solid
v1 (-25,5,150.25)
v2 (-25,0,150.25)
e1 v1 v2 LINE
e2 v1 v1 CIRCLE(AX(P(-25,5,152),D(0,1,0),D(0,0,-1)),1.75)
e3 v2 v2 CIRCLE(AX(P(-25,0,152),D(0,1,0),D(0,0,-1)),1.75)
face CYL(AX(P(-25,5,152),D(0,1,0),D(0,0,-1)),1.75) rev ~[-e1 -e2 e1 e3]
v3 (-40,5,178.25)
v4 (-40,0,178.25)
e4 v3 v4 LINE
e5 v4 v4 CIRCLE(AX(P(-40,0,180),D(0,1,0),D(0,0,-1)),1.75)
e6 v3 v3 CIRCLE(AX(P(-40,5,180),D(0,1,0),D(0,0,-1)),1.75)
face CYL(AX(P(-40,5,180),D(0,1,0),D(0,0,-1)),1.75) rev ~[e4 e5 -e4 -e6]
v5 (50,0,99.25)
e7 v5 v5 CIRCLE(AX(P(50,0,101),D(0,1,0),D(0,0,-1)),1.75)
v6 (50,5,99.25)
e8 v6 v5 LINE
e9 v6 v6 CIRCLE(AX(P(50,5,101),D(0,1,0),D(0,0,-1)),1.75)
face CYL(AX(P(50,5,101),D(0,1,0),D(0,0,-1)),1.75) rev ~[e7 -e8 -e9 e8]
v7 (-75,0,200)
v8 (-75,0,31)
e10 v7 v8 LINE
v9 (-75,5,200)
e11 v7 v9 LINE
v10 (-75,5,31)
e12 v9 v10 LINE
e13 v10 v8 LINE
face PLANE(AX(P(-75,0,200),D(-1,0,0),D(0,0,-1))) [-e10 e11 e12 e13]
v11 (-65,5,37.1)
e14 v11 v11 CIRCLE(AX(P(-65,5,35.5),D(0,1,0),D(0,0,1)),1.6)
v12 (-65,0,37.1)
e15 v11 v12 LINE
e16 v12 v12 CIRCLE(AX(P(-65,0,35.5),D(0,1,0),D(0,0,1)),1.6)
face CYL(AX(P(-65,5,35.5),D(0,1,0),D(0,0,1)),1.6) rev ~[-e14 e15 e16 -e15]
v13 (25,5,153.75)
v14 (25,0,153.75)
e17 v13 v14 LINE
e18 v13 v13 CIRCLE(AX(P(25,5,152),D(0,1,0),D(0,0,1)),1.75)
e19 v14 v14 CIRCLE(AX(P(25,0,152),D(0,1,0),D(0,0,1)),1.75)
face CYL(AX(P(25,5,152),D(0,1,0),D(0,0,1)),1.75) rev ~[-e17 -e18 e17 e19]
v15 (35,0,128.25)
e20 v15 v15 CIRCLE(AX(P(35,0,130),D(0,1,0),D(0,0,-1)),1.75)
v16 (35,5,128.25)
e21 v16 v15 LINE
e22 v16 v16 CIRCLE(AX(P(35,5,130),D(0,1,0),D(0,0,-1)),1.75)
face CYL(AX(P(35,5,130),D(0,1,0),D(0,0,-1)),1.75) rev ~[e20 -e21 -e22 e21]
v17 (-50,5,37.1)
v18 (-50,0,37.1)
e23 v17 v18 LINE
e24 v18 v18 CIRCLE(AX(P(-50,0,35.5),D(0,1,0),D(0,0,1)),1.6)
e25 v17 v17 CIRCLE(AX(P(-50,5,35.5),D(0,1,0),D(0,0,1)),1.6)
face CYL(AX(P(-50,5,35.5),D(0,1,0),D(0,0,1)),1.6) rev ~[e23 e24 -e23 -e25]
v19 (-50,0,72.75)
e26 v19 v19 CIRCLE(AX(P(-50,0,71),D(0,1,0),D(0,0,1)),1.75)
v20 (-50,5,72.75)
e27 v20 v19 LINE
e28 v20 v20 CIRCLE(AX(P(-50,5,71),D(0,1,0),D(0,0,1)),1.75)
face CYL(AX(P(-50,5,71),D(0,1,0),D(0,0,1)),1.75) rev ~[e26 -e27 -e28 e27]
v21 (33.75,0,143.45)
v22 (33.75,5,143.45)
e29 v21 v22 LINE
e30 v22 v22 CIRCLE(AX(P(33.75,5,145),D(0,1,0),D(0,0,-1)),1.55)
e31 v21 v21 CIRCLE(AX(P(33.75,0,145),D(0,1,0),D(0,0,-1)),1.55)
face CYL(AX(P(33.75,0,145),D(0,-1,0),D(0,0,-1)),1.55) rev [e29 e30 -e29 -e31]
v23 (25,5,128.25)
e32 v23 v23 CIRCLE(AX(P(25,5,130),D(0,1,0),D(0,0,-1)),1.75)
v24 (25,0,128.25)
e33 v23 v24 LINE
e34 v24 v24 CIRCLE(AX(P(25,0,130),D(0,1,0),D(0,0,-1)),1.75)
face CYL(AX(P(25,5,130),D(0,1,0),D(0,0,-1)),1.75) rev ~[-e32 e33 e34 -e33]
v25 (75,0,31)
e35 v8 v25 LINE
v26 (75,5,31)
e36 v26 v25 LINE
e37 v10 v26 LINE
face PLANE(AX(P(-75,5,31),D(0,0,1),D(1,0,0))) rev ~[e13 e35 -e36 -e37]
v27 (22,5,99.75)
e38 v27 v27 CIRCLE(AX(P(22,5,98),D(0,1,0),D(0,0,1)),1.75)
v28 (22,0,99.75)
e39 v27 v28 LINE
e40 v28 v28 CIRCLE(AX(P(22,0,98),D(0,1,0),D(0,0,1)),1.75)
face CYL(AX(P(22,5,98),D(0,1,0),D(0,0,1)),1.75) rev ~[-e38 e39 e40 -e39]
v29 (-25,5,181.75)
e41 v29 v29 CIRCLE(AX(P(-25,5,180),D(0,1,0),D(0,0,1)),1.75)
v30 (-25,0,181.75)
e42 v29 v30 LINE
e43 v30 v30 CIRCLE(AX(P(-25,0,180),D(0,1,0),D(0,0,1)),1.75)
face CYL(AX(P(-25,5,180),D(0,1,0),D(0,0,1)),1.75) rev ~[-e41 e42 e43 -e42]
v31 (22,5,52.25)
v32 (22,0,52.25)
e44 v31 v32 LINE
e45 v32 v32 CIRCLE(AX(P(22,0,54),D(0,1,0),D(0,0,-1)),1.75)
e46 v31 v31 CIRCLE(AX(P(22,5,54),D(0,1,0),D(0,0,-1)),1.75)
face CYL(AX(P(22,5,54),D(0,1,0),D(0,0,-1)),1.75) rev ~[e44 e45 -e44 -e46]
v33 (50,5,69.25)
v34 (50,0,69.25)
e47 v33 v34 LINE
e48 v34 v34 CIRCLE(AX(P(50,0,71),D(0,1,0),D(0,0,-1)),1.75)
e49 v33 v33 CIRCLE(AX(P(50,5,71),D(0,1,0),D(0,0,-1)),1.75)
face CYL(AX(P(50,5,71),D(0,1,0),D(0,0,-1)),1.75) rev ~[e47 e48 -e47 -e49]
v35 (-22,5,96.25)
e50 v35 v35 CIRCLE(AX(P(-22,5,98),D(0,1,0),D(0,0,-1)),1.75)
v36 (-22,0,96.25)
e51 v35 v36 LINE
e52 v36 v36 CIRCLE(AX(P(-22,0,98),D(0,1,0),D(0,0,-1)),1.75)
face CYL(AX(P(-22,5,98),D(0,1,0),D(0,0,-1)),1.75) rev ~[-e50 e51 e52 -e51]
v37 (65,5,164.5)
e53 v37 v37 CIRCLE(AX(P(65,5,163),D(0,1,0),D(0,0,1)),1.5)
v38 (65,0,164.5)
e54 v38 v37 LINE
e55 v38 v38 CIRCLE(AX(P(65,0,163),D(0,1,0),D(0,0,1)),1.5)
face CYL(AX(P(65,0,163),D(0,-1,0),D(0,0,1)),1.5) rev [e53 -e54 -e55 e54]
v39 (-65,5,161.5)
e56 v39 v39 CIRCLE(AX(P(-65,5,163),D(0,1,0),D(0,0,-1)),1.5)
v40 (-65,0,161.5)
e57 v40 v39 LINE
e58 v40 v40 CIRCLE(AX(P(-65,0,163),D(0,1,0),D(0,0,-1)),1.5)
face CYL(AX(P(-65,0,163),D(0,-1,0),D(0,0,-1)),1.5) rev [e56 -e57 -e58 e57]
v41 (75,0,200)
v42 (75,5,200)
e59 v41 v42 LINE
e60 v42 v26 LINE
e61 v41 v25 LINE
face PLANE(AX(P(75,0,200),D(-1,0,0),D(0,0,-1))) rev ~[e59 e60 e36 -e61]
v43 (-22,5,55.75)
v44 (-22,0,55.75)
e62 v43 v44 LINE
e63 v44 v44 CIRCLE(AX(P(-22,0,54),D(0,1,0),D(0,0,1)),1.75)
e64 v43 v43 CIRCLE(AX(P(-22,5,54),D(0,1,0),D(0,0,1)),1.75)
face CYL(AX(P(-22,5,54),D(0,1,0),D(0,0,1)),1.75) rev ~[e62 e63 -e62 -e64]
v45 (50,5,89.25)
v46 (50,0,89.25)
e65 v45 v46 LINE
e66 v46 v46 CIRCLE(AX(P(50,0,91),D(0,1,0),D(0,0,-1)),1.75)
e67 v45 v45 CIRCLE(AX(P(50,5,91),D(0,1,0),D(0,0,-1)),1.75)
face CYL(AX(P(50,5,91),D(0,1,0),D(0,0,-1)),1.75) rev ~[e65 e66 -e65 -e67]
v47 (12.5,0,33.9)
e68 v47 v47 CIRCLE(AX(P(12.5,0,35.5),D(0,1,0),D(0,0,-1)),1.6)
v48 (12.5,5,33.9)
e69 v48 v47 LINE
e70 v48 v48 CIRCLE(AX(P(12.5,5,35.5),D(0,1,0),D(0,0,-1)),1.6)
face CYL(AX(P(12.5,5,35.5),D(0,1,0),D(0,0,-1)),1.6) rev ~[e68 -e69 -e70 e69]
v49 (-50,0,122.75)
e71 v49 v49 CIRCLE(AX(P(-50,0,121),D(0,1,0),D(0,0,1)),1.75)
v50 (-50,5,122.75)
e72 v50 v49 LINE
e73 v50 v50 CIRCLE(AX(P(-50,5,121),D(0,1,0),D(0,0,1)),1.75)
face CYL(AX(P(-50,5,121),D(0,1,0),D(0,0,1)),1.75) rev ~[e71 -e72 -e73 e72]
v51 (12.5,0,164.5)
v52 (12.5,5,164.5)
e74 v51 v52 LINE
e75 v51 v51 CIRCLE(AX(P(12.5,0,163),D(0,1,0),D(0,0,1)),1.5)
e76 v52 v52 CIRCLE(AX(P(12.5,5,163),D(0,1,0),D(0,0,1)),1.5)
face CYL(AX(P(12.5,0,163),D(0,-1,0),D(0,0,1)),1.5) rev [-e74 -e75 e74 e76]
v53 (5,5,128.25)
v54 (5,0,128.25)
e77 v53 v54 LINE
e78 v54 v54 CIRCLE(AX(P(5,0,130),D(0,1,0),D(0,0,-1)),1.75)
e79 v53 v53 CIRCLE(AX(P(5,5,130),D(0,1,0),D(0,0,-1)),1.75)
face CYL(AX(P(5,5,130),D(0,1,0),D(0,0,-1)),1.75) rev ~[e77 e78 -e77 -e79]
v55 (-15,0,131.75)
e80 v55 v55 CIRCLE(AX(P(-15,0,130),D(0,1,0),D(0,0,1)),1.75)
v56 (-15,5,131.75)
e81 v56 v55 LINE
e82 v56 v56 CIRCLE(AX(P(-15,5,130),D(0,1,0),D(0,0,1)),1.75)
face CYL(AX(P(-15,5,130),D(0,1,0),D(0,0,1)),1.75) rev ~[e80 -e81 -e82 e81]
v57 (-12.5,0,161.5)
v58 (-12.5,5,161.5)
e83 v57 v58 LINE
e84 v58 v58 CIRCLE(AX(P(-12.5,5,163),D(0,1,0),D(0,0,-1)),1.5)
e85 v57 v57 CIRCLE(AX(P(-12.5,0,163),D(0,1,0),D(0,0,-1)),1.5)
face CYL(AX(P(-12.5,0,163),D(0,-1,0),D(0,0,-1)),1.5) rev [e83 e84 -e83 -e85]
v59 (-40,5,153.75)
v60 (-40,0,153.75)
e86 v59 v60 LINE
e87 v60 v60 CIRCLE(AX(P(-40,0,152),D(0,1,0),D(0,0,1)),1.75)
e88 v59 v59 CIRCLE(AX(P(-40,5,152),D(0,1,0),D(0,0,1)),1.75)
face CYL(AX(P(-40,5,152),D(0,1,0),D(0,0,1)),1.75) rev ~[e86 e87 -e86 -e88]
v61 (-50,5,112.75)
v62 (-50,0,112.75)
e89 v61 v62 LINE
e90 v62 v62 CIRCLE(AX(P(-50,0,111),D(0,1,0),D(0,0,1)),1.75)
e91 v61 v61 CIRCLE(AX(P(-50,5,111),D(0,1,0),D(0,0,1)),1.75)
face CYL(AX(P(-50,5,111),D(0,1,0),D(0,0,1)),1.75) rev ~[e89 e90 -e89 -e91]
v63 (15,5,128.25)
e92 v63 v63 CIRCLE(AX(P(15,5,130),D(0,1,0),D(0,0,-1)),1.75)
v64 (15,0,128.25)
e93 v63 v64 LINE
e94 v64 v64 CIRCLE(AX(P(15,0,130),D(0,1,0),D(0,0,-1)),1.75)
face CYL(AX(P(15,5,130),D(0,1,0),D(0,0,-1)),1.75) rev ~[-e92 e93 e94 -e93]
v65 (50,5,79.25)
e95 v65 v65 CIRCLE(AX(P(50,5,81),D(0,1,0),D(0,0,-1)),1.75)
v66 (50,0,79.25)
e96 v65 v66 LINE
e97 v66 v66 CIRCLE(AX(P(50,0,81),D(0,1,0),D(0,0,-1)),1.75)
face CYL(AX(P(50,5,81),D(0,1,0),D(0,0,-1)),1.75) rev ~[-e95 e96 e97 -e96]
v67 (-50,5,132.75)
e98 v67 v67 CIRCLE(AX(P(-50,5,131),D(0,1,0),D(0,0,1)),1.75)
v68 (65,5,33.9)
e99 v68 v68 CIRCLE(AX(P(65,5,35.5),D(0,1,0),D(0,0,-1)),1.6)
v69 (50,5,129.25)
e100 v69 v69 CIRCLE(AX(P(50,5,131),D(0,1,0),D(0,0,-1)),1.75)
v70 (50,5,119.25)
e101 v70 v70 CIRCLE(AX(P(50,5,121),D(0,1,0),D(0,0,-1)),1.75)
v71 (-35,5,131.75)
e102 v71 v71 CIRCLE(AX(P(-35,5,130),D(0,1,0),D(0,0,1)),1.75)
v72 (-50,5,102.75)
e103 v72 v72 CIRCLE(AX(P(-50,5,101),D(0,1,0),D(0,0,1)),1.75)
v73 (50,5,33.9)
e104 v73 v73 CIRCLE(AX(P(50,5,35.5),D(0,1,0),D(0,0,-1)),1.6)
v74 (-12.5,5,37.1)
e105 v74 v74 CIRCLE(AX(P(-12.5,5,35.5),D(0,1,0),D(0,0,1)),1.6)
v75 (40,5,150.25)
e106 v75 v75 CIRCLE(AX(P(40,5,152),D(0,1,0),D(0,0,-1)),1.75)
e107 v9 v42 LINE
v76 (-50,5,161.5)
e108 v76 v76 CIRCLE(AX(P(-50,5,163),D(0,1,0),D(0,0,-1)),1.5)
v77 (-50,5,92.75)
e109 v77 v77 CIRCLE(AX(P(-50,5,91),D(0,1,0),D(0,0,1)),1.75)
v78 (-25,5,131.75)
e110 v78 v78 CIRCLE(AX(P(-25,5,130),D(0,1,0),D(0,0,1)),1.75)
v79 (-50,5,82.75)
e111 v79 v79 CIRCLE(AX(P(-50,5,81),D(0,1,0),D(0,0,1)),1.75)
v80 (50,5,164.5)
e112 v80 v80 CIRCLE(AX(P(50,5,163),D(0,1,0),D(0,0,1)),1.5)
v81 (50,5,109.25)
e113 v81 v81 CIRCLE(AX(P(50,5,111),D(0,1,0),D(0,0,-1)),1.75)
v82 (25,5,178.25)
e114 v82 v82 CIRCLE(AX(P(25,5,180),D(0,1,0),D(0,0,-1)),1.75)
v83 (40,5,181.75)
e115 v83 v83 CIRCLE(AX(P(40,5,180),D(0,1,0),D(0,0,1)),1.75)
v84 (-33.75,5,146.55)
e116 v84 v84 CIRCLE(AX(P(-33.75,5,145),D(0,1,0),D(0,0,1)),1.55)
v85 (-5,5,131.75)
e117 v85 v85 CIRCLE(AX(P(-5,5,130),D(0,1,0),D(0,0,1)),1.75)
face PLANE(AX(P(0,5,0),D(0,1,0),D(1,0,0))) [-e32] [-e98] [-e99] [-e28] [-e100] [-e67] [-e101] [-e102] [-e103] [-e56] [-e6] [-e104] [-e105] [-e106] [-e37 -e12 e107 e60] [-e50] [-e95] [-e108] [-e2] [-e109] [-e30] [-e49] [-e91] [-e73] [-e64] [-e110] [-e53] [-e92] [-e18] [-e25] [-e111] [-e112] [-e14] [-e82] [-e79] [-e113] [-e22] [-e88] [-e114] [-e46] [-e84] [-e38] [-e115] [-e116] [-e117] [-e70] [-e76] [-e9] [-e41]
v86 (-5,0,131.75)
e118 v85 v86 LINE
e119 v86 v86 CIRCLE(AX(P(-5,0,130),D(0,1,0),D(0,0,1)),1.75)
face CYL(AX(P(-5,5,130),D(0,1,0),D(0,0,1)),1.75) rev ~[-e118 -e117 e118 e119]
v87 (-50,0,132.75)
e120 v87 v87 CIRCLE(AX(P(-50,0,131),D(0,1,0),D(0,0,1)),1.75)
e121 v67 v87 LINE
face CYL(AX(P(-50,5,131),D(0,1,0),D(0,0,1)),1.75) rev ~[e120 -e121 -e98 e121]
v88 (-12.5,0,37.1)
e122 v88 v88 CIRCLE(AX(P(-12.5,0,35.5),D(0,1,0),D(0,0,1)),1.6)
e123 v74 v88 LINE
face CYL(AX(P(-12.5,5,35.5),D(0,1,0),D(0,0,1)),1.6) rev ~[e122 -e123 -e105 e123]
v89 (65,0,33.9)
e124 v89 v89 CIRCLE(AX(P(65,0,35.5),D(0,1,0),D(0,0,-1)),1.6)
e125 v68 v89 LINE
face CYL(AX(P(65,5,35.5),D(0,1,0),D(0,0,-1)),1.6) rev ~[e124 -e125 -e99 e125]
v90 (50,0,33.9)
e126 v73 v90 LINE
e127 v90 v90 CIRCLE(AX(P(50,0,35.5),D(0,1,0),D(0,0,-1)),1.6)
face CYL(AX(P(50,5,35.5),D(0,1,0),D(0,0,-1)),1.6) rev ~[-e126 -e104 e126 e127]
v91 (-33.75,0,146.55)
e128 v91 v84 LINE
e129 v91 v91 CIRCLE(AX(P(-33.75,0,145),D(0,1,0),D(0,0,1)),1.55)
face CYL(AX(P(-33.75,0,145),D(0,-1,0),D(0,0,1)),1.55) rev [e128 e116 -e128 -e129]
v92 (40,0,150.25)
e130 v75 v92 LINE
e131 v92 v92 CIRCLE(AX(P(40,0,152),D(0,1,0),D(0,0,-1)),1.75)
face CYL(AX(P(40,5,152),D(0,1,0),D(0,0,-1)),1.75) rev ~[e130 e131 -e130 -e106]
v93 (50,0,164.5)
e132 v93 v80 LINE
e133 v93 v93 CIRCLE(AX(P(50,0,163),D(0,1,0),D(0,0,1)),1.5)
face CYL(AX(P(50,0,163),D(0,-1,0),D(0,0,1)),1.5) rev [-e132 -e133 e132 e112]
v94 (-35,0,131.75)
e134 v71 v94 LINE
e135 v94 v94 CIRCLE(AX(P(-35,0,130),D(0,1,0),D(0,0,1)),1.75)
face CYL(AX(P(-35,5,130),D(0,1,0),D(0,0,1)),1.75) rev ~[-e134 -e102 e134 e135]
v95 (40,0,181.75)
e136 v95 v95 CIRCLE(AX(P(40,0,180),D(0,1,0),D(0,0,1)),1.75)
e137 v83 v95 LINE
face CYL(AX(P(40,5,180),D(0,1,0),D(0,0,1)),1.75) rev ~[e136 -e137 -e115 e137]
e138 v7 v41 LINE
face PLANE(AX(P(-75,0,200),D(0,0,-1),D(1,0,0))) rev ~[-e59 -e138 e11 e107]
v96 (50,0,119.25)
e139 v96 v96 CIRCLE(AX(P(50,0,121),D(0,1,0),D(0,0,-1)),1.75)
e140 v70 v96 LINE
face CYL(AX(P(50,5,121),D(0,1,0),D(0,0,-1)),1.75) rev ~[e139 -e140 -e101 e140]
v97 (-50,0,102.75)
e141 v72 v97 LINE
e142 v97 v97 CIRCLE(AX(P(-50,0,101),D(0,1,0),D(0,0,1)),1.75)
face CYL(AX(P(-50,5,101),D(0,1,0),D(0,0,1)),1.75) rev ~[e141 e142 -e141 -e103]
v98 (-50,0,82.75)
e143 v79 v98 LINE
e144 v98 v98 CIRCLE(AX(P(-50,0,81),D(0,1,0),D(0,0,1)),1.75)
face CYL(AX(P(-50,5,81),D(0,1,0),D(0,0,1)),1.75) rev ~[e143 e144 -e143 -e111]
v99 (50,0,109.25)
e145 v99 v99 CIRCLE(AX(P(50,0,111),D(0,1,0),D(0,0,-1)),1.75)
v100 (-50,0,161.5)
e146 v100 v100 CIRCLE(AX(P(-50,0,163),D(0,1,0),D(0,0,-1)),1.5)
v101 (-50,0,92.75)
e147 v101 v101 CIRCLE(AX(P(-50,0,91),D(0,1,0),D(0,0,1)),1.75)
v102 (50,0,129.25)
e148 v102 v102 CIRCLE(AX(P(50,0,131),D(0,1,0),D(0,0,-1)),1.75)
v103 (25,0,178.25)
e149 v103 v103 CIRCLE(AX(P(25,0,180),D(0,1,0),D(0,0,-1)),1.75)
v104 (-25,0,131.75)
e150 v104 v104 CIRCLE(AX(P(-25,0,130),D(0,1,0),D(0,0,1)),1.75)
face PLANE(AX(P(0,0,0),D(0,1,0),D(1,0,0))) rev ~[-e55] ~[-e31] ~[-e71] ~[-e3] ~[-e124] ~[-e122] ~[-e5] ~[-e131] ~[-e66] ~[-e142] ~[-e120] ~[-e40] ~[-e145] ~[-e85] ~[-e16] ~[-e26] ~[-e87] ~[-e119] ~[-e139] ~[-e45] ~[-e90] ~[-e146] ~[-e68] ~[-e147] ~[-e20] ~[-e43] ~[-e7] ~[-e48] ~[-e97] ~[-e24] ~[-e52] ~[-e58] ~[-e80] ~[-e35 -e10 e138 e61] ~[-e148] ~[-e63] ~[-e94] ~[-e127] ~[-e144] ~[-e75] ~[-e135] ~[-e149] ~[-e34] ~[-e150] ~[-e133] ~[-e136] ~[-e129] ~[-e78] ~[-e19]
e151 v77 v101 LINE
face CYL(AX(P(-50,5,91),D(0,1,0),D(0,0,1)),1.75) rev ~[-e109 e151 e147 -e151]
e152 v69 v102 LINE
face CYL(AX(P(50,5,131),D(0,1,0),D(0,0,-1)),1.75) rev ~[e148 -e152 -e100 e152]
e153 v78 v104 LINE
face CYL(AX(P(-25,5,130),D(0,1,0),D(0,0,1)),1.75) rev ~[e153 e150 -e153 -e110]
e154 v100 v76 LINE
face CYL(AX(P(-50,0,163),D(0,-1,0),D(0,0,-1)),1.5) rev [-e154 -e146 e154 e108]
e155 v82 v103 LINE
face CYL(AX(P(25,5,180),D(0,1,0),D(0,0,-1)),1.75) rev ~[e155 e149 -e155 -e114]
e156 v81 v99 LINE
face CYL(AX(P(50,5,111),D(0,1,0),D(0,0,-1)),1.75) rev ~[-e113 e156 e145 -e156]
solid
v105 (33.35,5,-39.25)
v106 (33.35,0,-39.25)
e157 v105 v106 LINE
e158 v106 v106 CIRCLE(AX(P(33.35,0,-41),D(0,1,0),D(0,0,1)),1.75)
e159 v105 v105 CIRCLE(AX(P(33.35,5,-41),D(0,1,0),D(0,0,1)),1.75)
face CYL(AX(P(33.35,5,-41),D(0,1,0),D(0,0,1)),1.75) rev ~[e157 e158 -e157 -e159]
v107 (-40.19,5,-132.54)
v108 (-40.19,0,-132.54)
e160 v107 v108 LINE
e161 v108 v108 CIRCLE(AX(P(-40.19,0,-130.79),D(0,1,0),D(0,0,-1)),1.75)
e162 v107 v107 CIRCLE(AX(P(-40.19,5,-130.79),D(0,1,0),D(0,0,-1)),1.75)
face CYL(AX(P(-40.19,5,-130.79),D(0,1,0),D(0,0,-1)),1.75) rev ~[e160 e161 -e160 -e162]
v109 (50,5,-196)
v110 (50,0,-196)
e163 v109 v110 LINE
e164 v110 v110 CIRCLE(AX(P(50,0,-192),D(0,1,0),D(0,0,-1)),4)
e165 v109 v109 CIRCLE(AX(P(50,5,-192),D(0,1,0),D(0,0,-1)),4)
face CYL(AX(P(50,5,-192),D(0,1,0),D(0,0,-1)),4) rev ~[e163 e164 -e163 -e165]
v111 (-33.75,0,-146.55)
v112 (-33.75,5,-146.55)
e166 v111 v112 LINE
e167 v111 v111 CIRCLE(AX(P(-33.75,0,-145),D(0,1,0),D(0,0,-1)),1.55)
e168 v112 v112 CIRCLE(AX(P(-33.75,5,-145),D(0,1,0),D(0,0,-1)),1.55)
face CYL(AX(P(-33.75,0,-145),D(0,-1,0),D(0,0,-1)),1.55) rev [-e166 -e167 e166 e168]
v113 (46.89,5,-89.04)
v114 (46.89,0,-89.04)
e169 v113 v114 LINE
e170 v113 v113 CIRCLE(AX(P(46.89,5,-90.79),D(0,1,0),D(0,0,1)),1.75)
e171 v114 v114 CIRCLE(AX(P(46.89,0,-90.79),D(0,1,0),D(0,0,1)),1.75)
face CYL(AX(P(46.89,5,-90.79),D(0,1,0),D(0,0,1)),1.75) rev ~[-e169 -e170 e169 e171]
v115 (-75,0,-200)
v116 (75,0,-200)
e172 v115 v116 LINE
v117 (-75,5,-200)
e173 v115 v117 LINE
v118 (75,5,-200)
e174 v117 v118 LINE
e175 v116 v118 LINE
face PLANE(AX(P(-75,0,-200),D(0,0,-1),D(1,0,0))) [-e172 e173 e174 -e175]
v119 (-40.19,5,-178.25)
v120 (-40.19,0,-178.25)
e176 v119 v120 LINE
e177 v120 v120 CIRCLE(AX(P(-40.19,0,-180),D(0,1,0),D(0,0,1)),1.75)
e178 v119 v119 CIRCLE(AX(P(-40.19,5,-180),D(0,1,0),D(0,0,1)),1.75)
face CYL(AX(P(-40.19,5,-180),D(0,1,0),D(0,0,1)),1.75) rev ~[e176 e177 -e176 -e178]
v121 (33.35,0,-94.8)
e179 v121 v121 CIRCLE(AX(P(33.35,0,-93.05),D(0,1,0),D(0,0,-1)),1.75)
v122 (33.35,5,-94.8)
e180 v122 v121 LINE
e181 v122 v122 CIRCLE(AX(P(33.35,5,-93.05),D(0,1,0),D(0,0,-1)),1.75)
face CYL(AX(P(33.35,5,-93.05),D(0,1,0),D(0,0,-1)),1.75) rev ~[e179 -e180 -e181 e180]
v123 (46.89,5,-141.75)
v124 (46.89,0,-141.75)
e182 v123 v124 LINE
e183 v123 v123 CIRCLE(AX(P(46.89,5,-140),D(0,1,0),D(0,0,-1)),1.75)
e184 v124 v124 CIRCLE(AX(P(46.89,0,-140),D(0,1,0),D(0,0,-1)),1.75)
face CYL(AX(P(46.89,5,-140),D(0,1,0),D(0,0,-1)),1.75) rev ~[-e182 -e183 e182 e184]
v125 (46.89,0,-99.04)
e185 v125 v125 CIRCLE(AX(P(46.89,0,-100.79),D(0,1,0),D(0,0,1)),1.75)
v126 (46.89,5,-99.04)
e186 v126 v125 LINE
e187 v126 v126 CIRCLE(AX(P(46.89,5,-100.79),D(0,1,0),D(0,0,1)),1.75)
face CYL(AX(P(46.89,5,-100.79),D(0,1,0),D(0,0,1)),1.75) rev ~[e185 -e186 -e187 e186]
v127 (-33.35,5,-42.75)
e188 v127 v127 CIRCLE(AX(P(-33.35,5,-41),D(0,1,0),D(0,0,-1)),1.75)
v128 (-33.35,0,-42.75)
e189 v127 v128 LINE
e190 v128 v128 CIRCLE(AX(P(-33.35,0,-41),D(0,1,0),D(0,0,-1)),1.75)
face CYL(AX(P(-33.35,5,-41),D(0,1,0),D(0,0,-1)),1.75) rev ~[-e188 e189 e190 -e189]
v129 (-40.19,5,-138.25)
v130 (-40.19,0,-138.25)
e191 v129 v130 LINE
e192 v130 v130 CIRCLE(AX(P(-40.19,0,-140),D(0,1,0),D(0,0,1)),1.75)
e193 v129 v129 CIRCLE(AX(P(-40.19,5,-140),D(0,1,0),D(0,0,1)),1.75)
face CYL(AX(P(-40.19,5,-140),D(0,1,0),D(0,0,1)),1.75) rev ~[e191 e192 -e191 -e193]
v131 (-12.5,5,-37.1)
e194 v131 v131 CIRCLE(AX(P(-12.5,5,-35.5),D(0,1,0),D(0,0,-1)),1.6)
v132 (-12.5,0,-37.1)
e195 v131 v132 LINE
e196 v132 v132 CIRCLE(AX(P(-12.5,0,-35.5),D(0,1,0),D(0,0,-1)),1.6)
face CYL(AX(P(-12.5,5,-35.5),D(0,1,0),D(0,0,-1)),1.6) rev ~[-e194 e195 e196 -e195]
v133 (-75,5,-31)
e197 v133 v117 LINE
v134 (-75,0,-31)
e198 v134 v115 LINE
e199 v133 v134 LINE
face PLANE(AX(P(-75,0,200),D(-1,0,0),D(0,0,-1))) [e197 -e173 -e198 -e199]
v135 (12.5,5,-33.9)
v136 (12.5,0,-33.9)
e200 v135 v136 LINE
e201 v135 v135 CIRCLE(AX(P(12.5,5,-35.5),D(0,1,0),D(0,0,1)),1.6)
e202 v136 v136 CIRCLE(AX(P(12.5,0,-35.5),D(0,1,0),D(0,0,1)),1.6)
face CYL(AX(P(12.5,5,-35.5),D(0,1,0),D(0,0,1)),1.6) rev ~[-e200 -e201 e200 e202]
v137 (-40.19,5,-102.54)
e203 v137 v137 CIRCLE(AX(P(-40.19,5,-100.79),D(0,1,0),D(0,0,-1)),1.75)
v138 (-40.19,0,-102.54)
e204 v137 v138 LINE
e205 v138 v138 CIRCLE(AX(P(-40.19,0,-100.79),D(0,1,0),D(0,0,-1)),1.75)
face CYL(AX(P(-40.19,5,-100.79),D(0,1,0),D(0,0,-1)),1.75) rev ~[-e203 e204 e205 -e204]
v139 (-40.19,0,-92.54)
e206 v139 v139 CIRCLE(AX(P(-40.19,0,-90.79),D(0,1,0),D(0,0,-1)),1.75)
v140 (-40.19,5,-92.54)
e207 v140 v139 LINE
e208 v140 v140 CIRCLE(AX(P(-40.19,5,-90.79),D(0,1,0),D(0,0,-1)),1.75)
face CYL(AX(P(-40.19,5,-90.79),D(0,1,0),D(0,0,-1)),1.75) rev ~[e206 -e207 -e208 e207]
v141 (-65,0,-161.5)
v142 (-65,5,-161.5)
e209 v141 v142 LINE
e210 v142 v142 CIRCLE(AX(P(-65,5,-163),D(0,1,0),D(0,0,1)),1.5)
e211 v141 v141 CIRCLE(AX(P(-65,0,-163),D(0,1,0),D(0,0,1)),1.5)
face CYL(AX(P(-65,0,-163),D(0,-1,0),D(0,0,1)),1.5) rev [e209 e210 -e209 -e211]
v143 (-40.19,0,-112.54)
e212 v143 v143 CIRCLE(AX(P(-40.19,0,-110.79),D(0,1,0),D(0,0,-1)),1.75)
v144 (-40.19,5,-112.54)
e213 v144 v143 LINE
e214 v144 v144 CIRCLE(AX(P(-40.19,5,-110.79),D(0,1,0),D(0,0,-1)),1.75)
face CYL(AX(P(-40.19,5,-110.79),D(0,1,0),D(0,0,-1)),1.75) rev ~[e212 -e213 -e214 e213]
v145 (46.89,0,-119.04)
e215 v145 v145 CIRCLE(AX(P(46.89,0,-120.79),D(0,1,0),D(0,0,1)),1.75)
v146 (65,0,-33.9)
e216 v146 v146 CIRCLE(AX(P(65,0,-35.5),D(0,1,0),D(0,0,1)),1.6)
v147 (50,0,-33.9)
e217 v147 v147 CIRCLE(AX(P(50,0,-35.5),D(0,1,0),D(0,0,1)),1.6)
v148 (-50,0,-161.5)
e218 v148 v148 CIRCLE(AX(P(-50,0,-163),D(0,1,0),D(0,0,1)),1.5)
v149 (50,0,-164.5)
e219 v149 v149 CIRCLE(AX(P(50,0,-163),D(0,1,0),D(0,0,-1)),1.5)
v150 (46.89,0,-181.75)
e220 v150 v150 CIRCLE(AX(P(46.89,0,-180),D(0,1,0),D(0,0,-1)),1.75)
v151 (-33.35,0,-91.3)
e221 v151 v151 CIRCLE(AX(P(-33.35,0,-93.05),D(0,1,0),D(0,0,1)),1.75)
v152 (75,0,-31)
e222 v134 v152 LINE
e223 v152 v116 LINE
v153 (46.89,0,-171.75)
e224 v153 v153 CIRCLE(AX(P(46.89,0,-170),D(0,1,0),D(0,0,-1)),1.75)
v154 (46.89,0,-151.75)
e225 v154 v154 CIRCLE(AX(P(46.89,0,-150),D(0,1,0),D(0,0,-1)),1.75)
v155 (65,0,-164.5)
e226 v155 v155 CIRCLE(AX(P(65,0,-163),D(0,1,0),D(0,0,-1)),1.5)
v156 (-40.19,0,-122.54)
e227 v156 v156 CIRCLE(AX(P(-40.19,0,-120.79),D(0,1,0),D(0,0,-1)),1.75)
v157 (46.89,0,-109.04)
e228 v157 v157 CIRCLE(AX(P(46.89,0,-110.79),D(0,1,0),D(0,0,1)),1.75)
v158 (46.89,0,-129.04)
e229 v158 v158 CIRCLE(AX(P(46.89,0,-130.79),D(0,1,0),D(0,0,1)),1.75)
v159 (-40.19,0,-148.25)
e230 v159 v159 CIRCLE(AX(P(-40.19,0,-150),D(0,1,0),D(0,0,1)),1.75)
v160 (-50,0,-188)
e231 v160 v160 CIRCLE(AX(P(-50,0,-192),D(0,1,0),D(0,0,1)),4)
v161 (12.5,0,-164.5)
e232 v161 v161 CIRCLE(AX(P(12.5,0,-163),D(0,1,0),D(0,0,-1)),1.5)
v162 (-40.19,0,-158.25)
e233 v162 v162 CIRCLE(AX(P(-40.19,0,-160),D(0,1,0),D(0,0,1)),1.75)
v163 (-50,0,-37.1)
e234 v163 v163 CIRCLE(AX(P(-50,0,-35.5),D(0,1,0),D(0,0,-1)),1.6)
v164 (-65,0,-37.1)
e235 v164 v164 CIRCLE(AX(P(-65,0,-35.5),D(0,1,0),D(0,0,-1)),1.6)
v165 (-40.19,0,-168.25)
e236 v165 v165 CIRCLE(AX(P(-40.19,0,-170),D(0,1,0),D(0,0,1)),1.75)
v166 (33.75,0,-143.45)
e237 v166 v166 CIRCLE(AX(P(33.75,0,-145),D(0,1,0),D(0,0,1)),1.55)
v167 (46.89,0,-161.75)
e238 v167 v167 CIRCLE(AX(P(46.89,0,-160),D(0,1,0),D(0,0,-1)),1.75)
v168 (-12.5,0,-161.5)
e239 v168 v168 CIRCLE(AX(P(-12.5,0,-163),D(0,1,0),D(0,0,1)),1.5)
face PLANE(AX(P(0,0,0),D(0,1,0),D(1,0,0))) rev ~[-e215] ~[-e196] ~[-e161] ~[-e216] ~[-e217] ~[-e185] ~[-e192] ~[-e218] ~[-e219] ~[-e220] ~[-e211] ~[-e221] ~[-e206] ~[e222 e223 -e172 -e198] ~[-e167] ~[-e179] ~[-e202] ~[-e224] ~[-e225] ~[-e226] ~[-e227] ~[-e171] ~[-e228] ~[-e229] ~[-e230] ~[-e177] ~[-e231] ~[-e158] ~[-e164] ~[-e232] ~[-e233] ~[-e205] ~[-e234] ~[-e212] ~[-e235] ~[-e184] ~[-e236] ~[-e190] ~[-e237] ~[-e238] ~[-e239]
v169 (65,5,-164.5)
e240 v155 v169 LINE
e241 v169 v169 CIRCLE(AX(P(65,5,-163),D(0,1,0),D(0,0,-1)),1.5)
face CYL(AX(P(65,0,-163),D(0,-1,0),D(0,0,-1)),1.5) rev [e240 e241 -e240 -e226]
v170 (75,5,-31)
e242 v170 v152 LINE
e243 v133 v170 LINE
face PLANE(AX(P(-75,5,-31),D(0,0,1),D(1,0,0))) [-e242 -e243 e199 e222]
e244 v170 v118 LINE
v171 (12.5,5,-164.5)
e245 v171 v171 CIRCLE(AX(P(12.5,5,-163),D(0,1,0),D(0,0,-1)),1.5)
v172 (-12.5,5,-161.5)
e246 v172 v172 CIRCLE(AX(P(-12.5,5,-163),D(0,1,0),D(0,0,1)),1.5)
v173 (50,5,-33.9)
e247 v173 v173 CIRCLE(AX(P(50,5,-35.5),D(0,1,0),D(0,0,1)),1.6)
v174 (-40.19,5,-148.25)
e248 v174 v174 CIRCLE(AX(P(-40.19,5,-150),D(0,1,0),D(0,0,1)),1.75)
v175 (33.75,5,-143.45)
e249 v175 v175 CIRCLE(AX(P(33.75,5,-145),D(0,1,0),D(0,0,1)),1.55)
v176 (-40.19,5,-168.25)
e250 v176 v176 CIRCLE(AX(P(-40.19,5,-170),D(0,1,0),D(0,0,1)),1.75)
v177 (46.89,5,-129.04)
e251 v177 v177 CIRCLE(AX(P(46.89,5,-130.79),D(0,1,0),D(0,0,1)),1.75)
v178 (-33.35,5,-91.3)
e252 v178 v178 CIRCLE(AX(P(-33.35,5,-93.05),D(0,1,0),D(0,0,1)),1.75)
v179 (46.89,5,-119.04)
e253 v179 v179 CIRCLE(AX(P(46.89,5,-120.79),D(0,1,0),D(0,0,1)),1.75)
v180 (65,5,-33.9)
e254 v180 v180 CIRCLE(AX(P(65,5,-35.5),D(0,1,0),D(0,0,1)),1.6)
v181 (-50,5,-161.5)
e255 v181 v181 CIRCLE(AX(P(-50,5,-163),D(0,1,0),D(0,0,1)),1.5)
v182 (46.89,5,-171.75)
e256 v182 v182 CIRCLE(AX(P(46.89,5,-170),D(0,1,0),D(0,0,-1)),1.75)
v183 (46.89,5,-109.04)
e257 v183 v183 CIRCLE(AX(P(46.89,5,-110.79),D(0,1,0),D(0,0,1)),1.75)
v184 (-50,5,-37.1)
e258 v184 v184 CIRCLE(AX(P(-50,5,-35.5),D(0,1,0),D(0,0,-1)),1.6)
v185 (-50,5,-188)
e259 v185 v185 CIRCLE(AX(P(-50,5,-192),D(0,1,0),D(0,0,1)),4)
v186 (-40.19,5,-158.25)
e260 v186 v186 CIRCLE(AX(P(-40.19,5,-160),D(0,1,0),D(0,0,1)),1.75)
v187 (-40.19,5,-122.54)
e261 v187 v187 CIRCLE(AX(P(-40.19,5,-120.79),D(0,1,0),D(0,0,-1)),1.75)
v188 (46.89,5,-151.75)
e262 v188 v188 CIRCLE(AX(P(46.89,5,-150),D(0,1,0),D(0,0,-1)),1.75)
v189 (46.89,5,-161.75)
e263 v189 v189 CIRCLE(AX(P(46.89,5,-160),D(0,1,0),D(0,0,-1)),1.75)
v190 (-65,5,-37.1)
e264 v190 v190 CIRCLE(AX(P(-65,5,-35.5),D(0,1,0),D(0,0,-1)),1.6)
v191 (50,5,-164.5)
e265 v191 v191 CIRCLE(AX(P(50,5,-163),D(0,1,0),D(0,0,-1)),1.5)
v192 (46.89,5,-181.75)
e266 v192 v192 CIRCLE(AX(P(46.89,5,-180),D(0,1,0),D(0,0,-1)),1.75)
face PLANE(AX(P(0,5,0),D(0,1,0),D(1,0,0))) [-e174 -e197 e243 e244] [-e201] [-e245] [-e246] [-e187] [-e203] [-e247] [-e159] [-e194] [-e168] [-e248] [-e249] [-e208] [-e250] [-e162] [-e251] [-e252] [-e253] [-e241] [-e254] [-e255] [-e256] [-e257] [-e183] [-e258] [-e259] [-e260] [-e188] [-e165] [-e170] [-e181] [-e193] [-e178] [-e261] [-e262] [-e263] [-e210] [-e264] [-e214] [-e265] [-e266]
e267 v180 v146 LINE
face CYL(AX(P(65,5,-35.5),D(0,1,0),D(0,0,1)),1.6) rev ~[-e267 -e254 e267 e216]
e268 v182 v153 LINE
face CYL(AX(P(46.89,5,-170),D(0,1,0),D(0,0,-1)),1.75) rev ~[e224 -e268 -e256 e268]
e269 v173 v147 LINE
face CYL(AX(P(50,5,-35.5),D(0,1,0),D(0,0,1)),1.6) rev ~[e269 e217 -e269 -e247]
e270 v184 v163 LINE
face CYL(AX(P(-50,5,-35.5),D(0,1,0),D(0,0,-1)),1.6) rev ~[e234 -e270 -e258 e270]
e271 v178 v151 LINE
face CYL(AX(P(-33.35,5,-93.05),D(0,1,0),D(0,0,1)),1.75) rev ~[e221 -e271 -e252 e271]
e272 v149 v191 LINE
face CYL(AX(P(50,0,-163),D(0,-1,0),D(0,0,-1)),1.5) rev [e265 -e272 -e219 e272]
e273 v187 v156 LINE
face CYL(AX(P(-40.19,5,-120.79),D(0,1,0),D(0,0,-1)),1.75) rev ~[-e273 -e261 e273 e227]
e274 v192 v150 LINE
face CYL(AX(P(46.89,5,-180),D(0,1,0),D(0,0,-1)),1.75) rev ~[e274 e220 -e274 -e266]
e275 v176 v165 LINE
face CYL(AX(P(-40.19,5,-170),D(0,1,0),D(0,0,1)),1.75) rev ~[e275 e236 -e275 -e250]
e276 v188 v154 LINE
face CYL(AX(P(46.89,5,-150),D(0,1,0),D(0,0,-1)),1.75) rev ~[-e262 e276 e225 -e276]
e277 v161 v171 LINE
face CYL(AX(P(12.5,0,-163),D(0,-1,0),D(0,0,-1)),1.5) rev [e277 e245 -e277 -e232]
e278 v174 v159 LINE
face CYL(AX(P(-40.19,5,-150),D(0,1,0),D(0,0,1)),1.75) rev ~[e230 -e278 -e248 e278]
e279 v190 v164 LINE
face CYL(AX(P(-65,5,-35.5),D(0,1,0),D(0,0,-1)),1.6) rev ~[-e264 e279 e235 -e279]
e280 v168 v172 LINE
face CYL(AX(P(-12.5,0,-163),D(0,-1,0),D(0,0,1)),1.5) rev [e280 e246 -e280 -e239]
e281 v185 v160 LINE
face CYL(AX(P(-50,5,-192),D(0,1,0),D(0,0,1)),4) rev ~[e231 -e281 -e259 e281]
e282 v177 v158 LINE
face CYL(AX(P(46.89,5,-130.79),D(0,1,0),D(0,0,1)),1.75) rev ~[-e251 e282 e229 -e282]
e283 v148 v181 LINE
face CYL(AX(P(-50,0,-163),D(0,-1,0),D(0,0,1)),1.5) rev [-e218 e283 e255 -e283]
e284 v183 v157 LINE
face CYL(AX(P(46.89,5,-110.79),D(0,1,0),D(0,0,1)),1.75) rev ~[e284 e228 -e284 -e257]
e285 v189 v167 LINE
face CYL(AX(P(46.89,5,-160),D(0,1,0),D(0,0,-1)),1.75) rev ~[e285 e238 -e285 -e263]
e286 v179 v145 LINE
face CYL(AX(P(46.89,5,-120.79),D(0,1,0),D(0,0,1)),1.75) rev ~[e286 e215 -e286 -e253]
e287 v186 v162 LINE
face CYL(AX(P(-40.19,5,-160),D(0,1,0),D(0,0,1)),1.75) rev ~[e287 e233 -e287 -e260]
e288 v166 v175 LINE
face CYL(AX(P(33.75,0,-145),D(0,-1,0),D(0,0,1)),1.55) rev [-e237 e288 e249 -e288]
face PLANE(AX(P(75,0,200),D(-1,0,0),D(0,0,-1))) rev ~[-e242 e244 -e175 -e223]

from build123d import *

# Parameters (mm, degrees)
SKETCH_1_W          = 150
SKETCH_1_H          = 400
SKETCH_1_R          = 1.55
SKETCH_1_R_2        = 1.5
EXTRUDE_1_DEPTH     = 5
SKETCH_2_R          = 1.75
SKETCH_2_R_2        = 4
SKETCH_2_R_3        = 1.6
SKETCH_2_W          = 150
SKETCH_2_H          = 62
CUT_EXTRUDE_1_DEPTH = 214.658606192


with BuildPart() as part:
    # 草图1 → 凸台-拉伸1 (new body)
    with BuildSketch(Plane(origin=(0, 0, 0), x_dir=(1, 0, 0), z_dir=(0, 1, 0))):
        Rectangle(SKETCH_1_W, SKETCH_1_H)
        with Locations(Location((-41.75, 0, 0), (0, 0, 270))):
            Circle(SKETCH_1_R, mode=Mode.SUBTRACT)
        with Locations(Location((41.75, 0, 0), (0, 0, 90))):
            Circle(SKETCH_1_R, mode=Mode.SUBTRACT)
        with Locations(Location((-33.75, -145, 0), (0, 0, 270))):
            Circle(SKETCH_1_R, mode=Mode.SUBTRACT)
        with Locations(Location((33.75, -145, 0), (0, 0, 90))):
            Circle(SKETCH_1_R, mode=Mode.SUBTRACT)
        with Locations(Location((-33.75, 145, 0), (0, 0, 90))):
            Circle(SKETCH_1_R, mode=Mode.SUBTRACT)
        with Locations(Location((33.75, 145, 0), (0, 0, 270))):
            Circle(SKETCH_1_R, mode=Mode.SUBTRACT)
        with Locations(Location((65, -163, 0), (0, 0, 270))):
            Circle(SKETCH_1_R_2, mode=Mode.SUBTRACT)
        with Locations(Location((50, -163, 0), (0, 0, 270))):
            Circle(SKETCH_1_R_2, mode=Mode.SUBTRACT)
        with Locations(Location((12.5, -163, 0), (0, 0, 270))):
            Circle(SKETCH_1_R_2, mode=Mode.SUBTRACT)
        with Locations(Location((-65, -163, 0), (0, 0, 90))):
            Circle(SKETCH_1_R_2, mode=Mode.SUBTRACT)
        with Locations(Location((-50, -163, 0), (0, 0, 90))):
            Circle(SKETCH_1_R_2, mode=Mode.SUBTRACT)
        with Locations(Location((-12.5, -163, 0), (0, 0, 90))):
            Circle(SKETCH_1_R_2, mode=Mode.SUBTRACT)
        with Locations(Location((65, 163, 0), (0, 0, 90))):
            Circle(SKETCH_1_R_2, mode=Mode.SUBTRACT)
        with Locations(Location((50, 163, 0), (0, 0, 90))):
            Circle(SKETCH_1_R_2, mode=Mode.SUBTRACT)
        with Locations(Location((12.5, 163, 0), (0, 0, 90))):
            Circle(SKETCH_1_R_2, mode=Mode.SUBTRACT)
        with Locations(Location((-12.5, 163, 0), (0, 0, 270))):
            Circle(SKETCH_1_R_2, mode=Mode.SUBTRACT)
        with Locations(Location((-50, 163, 0), (0, 0, 270))):
            Circle(SKETCH_1_R_2, mode=Mode.SUBTRACT)
        with Locations(Location((-65, 163, 0), (0, 0, 270))):
            Circle(SKETCH_1_R_2, mode=Mode.SUBTRACT)
    extrude(amount=EXTRUDE_1_DEPTH)

    # 草图2 → 切除-拉伸1 (cut, through all)
    with BuildSketch(Plane(origin=(0, 5, 0), x_dir=(1, 0, 0), z_dir=(0, 1, 0))):
        with Locations(Location((-40.19, 160, 0), (0, 0, 270))):
            Circle(SKETCH_2_R)
        with Locations(Location((46.89, 160, 0), (0, 0, 90))):
            Circle(SKETCH_2_R)
        with Locations(Location((46.89, 110.79, 0), (0, 0, 270))):
            Circle(SKETCH_2_R)
        with Locations(Location((-40.19, 110.79, 0), (0, 0, 90))):
            Circle(SKETCH_2_R)
        with Locations(Location((-40.19, 170, 0), (0, 0, 270))):
            Circle(SKETCH_2_R)
        with Locations(Location((-40.19, 120.79, 0), (0, 0, 90))):
            Circle(SKETCH_2_R)
        with Locations(Location((46.89, 170, 0), (0, 0, 90))):
            Circle(SKETCH_2_R)
        with Locations(Location((46.89, 120.79, 0), (0, 0, 270))):
            Circle(SKETCH_2_R)
        with Locations(Location((-40.19, 180, 0), (0, 0, 270))):
            Circle(SKETCH_2_R)
        with Locations(Location((-40.19, 130.79, 0), (0, 0, 90))):
            Circle(SKETCH_2_R)
        with Locations(Location((46.89, 180, 0), (0, 0, 90))):
            Circle(SKETCH_2_R)
        with Locations(Location((46.89, 130.79, 0), (0, 0, 270))):
            Circle(SKETCH_2_R)
        with Locations(Location((-33.35, 93.05, 0), (0, 0, 270))):
            Circle(SKETCH_2_R)
        with Locations(Location((-33.35, 41, 0), (0, 0, 90))):
            Circle(SKETCH_2_R)
        with Locations(Location((33.35, 41, 0), (0, 0, 270))):
            Circle(SKETCH_2_R)
        with Locations(Location((33.35, 93.05, 0), (0, 0, 90))):
            Circle(SKETCH_2_R)
        with Locations(Location((-40.19, 100.79, 0), (0, 0, 90))):
            Circle(SKETCH_2_R)
        with Locations(Location((46.89, 100.79, 0), (0, 0, 270))):
            Circle(SKETCH_2_R)
        with Locations(Location((-40.19, 150, 0), (0, 0, 270))):
            Circle(SKETCH_2_R)
        with Locations(Location((46.89, 150, 0), (0, 0, 90))):
            Circle(SKETCH_2_R)
        with Locations(Location((-40.19, 90.79, 0), (0, 0, 90))):
            Circle(SKETCH_2_R)
        with Locations(Location((46.89, 90.79, 0), (0, 0, 270))):
            Circle(SKETCH_2_R)
        with Locations(Location((-40.19, 140, 0), (0, 0, 270))):
            Circle(SKETCH_2_R)
        with Locations(Location((46.89, 140, 0), (0, 0, 90))):
            Circle(SKETCH_2_R)
        with Locations(Location((-40, -152, 0), (0, 0, 270))):
            Circle(SKETCH_2_R)
        with Locations(Location((-25, -152, 0), (0, 0, 90))):
            Circle(SKETCH_2_R)
        with Locations(Location((-25, -180, 0), (0, 0, 270))):
            Circle(SKETCH_2_R)
        with Locations(Location((-40, -180, 0), (0, 0, 90))):
            Circle(SKETCH_2_R)
        with Locations(Location((25, -152, 0), (0, 0, 270))):
            Circle(SKETCH_2_R)
        with Locations(Location((25, -180, 0), (0, 0, 90))):
            Circle(SKETCH_2_R)
        with Locations(Location((40, -180, 0), (0, 0, 270))):
            Circle(SKETCH_2_R)
        with Locations(Location((40, -152, 0), (0, 0, 90))):
            Circle(SKETCH_2_R)
        with Locations(Location((-22, -54, 0), (0, 0, 270))):
            Circle(SKETCH_2_R)
        with Locations(Location((22, -54, 0), (0, 0, 90))):
            Circle(SKETCH_2_R)
        with Locations(Location((22, -98, 0), (0, 0, 270))):
            Circle(SKETCH_2_R)
        with Locations(Location((-22, -98, 0), (0, 0, 90))):
            Circle(SKETCH_2_R)
        with Locations(Location((-50, -71, 0), (0, 0, 270))):
            Circle(SKETCH_2_R)
        with Locations(Location((50, -71, 0), (0, 0, 90))):
            Circle(SKETCH_2_R)
        with Locations(Location((50, -81, 0), (0, 0, 90))):
            Circle(SKETCH_2_R)
        with Locations(Location((-50, -81, 0), (0, 0, 270))):
            Circle(SKETCH_2_R)
        with Locations(Location((50, -91, 0), (0, 0, 90))):
            Circle(SKETCH_2_R)
        with Locations(Location((-50, -91, 0), (0, 0, 270))):
            Circle(SKETCH_2_R)
        with Locations(Location((50, -101, 0), (0, 0, 90))):
            Circle(SKETCH_2_R)
        with Locations(Location((-50, -101, 0), (0, 0, 270))):
            Circle(SKETCH_2_R)
        with Locations(Location((50, -111, 0), (0, 0, 90))):
            Circle(SKETCH_2_R)
        with Locations(Location((-50, -111, 0), (0, 0, 270))):
            Circle(SKETCH_2_R)
        with Locations(Location((50, -121, 0), (0, 0, 90))):
            Circle(SKETCH_2_R)
        with Locations(Location((-50, -121, 0), (0, 0, 270))):
            Circle(SKETCH_2_R)
        with Locations(Location((50, -131, 0), (0, 0, 90))):
            Circle(SKETCH_2_R)
        with Locations(Location((-50, -131, 0), (0, 0, 270))):
            Circle(SKETCH_2_R)
        with Locations(Location((-5, -130, 0), (0, 0, 270))):
            Circle(SKETCH_2_R)
        with Locations(Location((5, -130, 0), (0, 0, 90))):
            Circle(SKETCH_2_R)
        with Locations(Location((-15, -130, 0), (0, 0, 270))):
            Circle(SKETCH_2_R)
        with Locations(Location((-25, -130, 0), (0, 0, 270))):
            Circle(SKETCH_2_R)
        with Locations(Location((-35, -130, 0), (0, 0, 270))):
            Circle(SKETCH_2_R)
        with Locations(Location((15, -130, 0), (0, 0, 90))):
            Circle(SKETCH_2_R)
        with Locations(Location((25, -130, 0), (0, 0, 90))):
            Circle(SKETCH_2_R)
        with Locations(Location((35, -130, 0), (0, 0, 90))):
            Circle(SKETCH_2_R)
        with Locations(Location((-50, 192, 0), (0, 0, 270))):
            Circle(SKETCH_2_R_2)
        with Locations(Location((50, 192, 0), (0, 0, 90))):
            Circle(SKETCH_2_R_2)
        with Locations(Location((65, 35.5, 0), (0, 0, 270))):
            Circle(SKETCH_2_R_3)
        with Locations(Location((50, 35.5, 0), (0, 0, 270))):
            Circle(SKETCH_2_R_3)
        with Locations(Location((12.5, 35.5, 0), (0, 0, 270))):
            Circle(SKETCH_2_R_3)
        with Locations(Location((-65, 35.5, 0), (0, 0, 90))):
            Circle(SKETCH_2_R_3)
        with Locations(Location((-50, 35.5, 0), (0, 0, 90))):
            Circle(SKETCH_2_R_3)
        with Locations(Location((-12.5, 35.5, 0), (0, 0, 90))):
            Circle(SKETCH_2_R_3)
        with Locations(Location((65, -35.5, 0), (0, 0, 90))):
            Circle(SKETCH_2_R_3)
        with Locations(Location((50, -35.5, 0), (0, 0, 90))):
            Circle(SKETCH_2_R_3)
        with Locations(Location((12.5, -35.5, 0), (0, 0, 90))):
            Circle(SKETCH_2_R_3)
        with Locations(Location((-12.5, -35.5, 0), (0, 0, 270))):
            Circle(SKETCH_2_R_3)
        with Locations(Location((-50, -35.5, 0), (0, 0, 270))):
            Circle(SKETCH_2_R_3)
        with Locations(Location((-65, -35.5, 0), (0, 0, 270))):
            Circle(SKETCH_2_R_3)
        Rectangle(SKETCH_2_W, SKETCH_2_H)
    extrude(amount=-CUT_EXTRUDE_1_DEPTH, mode=Mode.SUBTRACT)


with BuildPart() as cut_extrude_1_piece_1:
    # of the separate pieces the step leaves, piece 1, a body of its own (cut_extrude_1_pieces)
    add(part.part.solids().sort_by_distance((-75, 0, 200))[0])


with BuildPart() as cut_extrude_1_piece_2:
    # of the separate pieces the step leaves, piece 2, a body of its own (cut_extrude_1_pieces)
    add(part.part.solids().sort_by_distance((-75, 0, -200))[0])


solid = Compound([cut_extrude_1_piece_1.part, cut_extrude_1_piece_2.part])
